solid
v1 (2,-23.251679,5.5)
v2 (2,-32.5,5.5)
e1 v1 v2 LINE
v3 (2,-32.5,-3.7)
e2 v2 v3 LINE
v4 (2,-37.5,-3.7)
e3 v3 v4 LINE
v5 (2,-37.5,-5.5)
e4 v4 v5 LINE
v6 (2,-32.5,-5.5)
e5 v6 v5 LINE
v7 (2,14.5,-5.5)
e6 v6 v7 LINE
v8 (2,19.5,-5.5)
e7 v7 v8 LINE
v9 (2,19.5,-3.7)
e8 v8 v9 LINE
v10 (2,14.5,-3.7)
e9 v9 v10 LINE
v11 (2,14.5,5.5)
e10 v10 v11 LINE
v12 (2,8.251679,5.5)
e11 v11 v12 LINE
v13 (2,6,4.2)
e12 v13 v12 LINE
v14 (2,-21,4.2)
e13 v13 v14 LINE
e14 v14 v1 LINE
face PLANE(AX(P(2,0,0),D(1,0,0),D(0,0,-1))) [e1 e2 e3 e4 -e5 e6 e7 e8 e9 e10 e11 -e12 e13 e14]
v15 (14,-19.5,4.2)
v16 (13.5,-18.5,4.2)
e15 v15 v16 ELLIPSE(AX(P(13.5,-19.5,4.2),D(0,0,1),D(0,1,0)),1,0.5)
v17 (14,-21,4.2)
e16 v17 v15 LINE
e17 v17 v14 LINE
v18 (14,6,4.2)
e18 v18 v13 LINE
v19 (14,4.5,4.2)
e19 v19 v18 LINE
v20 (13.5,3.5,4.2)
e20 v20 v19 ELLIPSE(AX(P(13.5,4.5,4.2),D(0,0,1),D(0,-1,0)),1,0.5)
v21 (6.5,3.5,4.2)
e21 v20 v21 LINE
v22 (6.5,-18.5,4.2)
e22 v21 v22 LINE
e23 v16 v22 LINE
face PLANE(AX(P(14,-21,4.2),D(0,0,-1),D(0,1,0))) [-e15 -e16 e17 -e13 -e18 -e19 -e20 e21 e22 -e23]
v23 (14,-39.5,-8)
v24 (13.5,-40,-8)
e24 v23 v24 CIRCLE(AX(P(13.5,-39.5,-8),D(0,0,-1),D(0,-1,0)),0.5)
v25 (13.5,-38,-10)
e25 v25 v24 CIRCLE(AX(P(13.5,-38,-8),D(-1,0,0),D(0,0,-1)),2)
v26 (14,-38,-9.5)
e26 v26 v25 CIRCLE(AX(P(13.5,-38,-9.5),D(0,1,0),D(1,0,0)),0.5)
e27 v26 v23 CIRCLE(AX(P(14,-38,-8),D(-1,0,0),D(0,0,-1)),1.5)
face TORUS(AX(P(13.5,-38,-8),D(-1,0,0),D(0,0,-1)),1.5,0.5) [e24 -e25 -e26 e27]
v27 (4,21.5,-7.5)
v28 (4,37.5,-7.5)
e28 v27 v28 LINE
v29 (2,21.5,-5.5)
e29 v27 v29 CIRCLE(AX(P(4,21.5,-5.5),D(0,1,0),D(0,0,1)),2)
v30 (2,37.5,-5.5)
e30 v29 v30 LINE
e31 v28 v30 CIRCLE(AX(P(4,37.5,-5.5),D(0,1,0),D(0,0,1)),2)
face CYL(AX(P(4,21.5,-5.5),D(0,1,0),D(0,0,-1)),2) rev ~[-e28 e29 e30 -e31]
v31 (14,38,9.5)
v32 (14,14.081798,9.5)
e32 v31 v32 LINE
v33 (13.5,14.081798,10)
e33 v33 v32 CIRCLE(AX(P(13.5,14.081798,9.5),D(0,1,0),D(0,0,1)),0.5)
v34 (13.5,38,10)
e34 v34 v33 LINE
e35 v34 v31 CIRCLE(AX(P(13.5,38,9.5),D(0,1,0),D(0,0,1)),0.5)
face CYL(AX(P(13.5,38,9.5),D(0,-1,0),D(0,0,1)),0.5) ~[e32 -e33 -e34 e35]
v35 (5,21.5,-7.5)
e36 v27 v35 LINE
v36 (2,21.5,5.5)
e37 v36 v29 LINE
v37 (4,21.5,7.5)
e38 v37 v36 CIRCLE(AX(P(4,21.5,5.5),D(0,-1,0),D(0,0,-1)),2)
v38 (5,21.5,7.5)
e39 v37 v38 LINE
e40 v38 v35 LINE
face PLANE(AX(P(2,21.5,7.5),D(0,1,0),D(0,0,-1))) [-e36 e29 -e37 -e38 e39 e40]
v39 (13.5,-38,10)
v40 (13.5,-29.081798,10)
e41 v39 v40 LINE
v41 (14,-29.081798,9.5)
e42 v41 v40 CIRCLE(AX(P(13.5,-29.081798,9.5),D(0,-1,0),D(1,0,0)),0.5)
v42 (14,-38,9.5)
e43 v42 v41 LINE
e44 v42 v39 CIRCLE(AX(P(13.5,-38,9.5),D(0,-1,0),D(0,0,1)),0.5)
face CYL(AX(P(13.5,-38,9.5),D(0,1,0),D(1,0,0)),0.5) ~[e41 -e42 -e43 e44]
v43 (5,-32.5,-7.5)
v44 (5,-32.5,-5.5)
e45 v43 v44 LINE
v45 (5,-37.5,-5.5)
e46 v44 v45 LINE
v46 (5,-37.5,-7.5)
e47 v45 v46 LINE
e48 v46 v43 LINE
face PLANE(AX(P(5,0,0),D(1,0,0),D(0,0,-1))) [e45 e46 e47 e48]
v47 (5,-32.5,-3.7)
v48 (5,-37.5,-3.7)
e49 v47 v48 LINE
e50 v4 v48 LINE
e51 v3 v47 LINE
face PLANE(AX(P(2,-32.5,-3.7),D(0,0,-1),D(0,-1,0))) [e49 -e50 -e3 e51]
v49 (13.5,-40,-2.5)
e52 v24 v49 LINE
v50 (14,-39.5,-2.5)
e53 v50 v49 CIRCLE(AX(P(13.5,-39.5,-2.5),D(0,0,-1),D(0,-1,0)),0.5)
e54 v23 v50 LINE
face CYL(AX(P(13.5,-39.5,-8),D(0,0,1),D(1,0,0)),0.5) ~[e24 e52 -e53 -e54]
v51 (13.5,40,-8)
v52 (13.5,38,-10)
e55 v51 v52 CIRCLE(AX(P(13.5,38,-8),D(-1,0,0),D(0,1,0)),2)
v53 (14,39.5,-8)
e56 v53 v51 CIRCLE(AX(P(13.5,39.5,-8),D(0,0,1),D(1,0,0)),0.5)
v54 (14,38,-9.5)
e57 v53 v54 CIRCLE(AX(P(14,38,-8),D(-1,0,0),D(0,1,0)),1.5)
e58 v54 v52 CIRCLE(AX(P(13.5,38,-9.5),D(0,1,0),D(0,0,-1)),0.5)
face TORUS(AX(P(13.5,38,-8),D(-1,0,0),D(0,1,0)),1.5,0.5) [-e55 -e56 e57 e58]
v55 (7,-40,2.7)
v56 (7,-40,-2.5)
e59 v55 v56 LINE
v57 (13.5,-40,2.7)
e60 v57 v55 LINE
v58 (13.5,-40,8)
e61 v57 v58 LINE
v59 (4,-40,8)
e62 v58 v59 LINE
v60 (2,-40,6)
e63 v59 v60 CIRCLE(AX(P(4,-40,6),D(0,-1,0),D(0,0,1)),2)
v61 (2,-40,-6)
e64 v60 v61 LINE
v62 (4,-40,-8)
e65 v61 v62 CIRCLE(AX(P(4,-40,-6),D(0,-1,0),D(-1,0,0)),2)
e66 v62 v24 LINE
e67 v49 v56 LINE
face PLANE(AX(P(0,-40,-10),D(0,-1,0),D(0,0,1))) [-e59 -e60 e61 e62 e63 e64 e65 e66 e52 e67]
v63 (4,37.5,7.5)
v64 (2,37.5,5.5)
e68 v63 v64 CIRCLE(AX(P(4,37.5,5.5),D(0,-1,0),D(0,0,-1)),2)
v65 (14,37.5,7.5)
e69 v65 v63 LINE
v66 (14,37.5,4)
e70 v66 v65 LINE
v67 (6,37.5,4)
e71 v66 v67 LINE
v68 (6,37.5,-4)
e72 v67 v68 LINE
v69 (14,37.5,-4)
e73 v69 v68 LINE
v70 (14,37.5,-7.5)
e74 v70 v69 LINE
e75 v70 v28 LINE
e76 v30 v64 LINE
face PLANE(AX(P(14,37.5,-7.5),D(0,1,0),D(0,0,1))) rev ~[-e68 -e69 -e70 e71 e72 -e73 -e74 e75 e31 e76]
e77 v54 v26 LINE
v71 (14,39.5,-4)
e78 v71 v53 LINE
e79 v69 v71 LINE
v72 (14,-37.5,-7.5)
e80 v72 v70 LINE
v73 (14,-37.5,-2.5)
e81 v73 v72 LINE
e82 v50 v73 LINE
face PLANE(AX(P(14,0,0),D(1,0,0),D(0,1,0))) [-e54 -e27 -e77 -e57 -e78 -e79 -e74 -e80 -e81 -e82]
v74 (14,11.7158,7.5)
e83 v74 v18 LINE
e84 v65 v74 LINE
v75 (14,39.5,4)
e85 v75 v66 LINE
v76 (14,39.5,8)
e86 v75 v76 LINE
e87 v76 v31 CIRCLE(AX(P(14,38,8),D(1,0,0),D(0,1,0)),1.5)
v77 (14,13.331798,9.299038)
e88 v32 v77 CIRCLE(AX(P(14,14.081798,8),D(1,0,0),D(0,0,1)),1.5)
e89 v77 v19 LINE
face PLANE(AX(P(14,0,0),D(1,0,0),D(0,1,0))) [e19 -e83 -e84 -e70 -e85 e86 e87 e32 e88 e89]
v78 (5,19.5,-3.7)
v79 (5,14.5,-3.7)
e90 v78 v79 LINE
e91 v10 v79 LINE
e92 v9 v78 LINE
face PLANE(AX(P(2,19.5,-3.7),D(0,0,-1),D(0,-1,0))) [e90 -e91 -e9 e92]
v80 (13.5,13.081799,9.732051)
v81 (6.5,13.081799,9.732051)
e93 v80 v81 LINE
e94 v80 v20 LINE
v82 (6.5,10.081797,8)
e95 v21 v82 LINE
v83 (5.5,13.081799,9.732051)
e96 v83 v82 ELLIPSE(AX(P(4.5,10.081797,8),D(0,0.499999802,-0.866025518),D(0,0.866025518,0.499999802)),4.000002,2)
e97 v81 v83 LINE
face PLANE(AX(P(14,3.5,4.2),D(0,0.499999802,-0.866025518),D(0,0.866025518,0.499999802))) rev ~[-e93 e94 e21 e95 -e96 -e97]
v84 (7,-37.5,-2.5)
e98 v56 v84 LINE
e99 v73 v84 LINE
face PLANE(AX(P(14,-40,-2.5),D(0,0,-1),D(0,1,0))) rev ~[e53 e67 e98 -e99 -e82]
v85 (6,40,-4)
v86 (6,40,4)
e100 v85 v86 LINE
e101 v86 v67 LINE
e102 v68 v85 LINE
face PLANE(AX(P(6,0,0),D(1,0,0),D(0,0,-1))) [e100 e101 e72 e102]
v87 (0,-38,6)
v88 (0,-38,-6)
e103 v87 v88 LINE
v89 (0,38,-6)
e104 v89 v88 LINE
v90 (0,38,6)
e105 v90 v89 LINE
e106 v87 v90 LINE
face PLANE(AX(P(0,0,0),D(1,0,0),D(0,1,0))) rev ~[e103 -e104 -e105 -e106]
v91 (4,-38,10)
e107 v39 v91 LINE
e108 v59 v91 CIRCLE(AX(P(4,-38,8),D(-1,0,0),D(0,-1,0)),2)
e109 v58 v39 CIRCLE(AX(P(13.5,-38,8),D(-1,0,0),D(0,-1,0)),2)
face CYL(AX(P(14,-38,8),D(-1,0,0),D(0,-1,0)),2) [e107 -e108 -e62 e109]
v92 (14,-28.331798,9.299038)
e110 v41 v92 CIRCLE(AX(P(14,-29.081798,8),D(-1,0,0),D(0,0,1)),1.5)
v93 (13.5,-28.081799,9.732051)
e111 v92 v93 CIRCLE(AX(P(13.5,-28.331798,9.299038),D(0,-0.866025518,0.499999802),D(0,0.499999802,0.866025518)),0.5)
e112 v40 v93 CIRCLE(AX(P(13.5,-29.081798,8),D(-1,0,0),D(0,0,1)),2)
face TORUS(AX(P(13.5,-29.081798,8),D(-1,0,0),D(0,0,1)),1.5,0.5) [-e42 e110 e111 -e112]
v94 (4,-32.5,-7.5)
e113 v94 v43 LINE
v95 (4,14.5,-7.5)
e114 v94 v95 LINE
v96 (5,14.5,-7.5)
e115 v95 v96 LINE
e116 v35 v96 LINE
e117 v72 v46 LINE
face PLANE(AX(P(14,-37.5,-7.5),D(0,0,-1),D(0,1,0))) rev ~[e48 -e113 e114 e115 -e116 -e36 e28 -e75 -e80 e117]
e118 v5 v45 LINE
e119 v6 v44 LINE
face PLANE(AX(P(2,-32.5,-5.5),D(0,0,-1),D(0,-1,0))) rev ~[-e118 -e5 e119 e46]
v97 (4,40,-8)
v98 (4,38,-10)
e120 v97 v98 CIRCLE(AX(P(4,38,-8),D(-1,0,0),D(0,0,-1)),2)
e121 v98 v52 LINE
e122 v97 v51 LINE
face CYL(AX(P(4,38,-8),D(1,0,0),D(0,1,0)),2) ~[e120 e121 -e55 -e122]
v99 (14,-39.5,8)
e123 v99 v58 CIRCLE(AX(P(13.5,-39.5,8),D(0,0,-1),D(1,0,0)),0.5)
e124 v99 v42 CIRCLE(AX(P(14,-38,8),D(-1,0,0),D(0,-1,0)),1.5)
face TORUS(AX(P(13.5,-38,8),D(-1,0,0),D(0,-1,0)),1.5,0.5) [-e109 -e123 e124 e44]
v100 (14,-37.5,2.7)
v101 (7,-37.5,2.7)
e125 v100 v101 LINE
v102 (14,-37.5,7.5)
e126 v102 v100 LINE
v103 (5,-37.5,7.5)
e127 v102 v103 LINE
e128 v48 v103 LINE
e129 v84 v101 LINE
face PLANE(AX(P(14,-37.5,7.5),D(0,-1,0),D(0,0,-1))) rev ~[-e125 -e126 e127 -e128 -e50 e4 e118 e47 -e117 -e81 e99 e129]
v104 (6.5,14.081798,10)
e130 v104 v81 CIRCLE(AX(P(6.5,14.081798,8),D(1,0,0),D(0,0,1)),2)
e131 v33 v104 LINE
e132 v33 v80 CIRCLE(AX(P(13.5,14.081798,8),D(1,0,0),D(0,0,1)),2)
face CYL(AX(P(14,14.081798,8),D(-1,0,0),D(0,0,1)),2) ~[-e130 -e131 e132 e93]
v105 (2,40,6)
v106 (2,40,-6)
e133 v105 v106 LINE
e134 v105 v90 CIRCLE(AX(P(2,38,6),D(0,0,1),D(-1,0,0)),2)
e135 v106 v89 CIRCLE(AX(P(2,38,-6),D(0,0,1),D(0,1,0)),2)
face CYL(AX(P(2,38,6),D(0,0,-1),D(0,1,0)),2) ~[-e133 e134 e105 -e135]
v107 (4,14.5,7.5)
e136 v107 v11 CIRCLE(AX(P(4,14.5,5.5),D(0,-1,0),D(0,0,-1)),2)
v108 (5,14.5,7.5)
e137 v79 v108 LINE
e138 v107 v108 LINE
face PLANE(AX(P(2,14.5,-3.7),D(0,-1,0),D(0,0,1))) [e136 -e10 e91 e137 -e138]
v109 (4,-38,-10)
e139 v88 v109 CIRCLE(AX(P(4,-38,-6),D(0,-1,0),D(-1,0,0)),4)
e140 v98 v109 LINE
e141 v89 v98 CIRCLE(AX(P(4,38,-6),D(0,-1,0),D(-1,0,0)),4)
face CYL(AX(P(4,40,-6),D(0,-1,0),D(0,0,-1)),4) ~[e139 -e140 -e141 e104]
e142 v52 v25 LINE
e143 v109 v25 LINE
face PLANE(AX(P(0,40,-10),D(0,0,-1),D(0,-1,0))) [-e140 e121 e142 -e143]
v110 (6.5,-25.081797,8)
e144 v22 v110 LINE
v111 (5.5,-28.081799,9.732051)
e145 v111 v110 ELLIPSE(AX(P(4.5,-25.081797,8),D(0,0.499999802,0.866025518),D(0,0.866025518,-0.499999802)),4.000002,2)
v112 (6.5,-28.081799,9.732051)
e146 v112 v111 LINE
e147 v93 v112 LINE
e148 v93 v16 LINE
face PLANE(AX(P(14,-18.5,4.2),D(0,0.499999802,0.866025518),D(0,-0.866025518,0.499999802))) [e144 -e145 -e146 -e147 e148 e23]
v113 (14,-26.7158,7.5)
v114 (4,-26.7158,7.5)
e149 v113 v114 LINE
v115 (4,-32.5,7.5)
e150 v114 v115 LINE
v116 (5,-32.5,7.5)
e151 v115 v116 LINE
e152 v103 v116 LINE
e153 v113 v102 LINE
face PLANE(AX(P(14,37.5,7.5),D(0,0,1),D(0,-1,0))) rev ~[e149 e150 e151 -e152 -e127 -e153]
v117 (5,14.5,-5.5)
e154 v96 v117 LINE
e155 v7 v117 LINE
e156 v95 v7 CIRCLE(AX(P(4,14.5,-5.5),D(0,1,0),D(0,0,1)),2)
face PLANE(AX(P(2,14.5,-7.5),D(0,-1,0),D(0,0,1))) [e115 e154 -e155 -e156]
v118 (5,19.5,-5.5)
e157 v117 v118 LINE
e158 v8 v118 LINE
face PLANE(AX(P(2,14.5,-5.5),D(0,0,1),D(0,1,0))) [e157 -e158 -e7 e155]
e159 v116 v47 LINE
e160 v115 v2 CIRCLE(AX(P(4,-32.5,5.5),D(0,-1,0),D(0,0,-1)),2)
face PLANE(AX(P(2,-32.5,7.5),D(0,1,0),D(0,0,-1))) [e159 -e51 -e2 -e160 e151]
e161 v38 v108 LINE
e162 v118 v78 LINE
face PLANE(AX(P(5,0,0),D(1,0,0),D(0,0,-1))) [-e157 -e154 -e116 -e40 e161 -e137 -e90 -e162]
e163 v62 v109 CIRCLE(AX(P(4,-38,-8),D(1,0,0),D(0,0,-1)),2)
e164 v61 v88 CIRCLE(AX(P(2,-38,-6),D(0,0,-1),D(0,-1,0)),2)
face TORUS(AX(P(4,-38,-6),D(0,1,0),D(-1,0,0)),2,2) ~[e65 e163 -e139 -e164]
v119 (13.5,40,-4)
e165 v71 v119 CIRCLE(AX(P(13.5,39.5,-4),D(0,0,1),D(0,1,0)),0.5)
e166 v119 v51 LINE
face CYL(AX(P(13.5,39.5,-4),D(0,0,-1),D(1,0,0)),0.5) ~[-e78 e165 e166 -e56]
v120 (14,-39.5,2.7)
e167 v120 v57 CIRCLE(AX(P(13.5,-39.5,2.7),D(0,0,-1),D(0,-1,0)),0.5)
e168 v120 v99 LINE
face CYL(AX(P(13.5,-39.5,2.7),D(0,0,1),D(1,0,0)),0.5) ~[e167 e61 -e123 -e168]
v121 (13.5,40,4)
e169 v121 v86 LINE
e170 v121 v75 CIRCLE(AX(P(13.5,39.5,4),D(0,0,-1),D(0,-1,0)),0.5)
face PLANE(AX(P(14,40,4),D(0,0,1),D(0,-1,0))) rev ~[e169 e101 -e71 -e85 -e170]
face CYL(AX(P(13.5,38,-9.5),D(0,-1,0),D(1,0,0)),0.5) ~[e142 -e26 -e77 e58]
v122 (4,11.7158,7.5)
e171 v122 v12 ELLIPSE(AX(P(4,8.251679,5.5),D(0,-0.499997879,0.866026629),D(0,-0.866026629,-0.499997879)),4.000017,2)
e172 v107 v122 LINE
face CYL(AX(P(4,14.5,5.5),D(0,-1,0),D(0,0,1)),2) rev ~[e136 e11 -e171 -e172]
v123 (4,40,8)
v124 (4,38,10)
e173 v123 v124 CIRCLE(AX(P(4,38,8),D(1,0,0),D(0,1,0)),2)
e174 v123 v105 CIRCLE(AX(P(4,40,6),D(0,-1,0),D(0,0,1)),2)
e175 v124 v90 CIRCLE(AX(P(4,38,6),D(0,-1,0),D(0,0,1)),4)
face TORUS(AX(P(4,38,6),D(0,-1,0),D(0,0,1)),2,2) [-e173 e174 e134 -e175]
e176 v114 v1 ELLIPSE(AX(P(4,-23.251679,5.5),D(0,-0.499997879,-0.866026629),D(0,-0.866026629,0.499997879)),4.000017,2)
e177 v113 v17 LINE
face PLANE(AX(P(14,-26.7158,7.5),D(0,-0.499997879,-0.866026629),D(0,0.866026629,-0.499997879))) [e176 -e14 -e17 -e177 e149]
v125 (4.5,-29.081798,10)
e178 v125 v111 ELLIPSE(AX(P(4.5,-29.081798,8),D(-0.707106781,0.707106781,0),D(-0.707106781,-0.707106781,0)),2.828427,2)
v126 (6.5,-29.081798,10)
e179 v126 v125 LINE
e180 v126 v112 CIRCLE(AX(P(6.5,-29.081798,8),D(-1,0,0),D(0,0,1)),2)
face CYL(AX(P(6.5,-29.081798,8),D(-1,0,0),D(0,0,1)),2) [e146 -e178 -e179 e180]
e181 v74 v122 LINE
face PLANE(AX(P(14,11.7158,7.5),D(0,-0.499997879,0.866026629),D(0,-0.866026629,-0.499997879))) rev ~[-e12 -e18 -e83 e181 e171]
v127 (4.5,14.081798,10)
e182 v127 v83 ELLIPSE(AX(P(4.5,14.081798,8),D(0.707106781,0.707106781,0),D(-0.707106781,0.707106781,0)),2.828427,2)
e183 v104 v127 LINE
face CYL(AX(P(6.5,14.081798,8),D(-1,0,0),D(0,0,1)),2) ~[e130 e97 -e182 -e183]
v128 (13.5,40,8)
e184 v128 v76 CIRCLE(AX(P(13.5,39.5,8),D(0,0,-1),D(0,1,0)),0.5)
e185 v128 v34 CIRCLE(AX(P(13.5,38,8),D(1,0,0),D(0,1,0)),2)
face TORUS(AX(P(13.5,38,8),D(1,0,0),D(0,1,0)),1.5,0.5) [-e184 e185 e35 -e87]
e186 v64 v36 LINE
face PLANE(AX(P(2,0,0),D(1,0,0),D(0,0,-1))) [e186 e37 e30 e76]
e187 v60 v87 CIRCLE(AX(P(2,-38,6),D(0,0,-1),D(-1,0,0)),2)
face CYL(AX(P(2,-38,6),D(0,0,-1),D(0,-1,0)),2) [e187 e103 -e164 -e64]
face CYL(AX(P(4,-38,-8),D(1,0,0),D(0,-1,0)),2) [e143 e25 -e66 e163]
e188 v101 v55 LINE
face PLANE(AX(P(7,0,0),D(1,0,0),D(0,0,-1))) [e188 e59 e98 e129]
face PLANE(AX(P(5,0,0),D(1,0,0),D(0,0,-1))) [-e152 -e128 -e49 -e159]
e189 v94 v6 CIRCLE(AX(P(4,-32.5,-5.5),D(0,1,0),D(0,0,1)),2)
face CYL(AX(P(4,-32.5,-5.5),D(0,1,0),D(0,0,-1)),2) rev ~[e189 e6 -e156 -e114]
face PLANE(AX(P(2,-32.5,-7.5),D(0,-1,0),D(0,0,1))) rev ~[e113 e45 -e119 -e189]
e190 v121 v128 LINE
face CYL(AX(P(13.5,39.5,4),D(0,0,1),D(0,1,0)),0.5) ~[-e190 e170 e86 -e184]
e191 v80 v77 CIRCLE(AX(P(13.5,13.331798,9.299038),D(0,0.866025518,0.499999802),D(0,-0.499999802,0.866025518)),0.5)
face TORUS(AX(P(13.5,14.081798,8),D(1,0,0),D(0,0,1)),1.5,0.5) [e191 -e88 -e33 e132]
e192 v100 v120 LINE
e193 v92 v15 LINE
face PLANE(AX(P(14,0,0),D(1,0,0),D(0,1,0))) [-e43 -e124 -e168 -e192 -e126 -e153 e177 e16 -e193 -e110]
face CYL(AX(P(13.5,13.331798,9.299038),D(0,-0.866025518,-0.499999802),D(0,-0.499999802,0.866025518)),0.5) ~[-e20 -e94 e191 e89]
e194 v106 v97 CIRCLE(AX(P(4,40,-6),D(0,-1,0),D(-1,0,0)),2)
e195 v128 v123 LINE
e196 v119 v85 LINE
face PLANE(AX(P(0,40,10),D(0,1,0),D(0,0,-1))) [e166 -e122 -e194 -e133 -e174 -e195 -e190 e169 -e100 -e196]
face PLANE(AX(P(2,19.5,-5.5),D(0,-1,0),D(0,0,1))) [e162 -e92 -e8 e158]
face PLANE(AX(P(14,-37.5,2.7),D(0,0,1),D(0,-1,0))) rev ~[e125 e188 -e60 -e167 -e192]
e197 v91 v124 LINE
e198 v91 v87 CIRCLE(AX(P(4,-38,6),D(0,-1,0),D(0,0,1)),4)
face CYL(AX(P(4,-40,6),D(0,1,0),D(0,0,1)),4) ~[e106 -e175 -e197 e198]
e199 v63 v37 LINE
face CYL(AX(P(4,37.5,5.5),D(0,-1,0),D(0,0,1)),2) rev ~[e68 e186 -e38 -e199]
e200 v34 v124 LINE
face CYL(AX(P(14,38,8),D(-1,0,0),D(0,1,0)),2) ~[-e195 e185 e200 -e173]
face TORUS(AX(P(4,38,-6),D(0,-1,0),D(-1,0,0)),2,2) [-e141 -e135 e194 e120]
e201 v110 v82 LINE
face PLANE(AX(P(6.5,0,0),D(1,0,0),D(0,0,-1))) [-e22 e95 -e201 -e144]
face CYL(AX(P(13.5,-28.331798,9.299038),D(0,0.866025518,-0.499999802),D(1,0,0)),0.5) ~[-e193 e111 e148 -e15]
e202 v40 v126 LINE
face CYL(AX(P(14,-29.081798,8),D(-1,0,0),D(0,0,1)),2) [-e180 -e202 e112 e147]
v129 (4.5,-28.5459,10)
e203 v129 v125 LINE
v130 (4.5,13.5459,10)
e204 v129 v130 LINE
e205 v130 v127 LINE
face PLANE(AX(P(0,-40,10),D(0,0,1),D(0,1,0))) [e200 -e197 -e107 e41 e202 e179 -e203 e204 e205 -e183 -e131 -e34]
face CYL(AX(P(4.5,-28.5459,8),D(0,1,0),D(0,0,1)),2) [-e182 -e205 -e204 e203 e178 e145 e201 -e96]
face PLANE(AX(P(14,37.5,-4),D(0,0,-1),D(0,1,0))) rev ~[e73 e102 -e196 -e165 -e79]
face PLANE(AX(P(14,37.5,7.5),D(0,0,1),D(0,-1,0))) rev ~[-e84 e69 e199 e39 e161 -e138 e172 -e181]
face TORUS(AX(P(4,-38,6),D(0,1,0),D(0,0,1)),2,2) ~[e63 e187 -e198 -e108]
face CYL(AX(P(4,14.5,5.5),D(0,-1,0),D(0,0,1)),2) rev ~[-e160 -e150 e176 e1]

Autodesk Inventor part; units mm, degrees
ref_plane "YZ Plane" through (0, 0, 0) normal (1, 0, 0) x (0, 1, 0)
ref_plane "XZ Plane" through (0, 0, 0) normal (0, 1, 0) x (-1, 0, 0)
ref_plane "XY Plane" through (0, 0, 0) normal (0, 0, 1) x (1, 0, 0)
sketch "Skizze1" plane through (0, 0, 0) normal (1, 0, 0) x (0, 1, 0)
  line L0 (40, -10) -> (-40, -10)
  line L1 (-40, -10) -> (-40, 10)
  line L2 (-40, 10) -> (40, 10)
  line L3 (40, 10) -> (40, -10)
  line L4 (40, -10) -> (-40, 10) construction
  line L5 (-40, -10) -> (40, 10) construction
  point P0 (0, 0)
  dimension "d0" = 80
  dimension "d1" = 20
extrude "Extrusion1" add sketch "Skizze1" along normal blind 14
sketch "Skizze2" plane through (14, 0, 0) normal (1, 0, 0) x (0, 0, -1)
  line L0 (7.5, 37.5) -> (-7.5, 37.5)
  line L1 (-7.5, 37.5) -> (-7.5, -37.5)
  line L2 (-7.5, -37.5) -> (7.5, -37.5)
  line L3 (7.5, -37.5) -> (7.5, 37.5)
  line L4 (7.5, 37.5) -> (-7.5, -37.5) construction
  line L5 (-7.5, 37.5) -> (7.5, -37.5) construction
  line L6 (10, 40) -> (-10, 40) projected
  point P0 (0, 0)
  dimension "d4" = 15
  dimension "d5" = 2.5
extrude "Extrusion2" cut sketch "Skizze2" against normal blind 12
sketch "Skizze3" plane through (14, 0, 0) normal (1, 0, 0) x (0, 0, -1)
  line L0 (-2.7, -40) -> (2.5, -40)
  line L1 (2.5, -40) -> (2.5, -37.5)
  line L2 (2.5, -37.5) -> (-2.7, -37.5)
  line L3 (-2.7, -37.5) -> (-2.7, -40)
  line L4 (7.5, -37.5) -> (-7.5, -37.5) projected
  line L5 (-10, -40) -> (10, -40) projected
  line L6 (7.5, 37.5) -> (7.5, -37.5) projected
  point P0 (0, 0)
  dimension "d8" = 5.2
  dimension "d9" = 5
extrude "Extrusion3" cut sketch "Skizze3" against normal blind 7
sketch "Skizze4" plane through (2, 0, 0) normal (1, 0, 0) x (0, 0, -1)
  line L0 (5.5, -37.5) -> (7.5, -37.5)
  line L1 (7.5, -37.5) -> (7.5, -32.5)
  line L2 (7.5, -32.5) -> (5.5, -32.5)
  line L3 (5.5, -32.5) -> (5.5, -37.5)
  line L4 (7.5, -37.5) -> (-7.5, -37.5) projected
  line L5 (7.5, 37.5) -> (7.5, -37.5) projected
  line L6 (3.7, -37.5) -> (-7.5, -37.5)
  line L7 (-7.5, -37.5) -> (-7.5, -32.5)
  line L8 (-7.5, -32.5) -> (3.7, -32.5)
  line L9 (3.7, -32.5) -> (3.7, -37.5)
  line L10 (-7.5, -37.5) -> (-7.5, 37.5) projected
  line L11 (7.5, 14.5) -> (5.5, 14.5)
  line L12 (5.5, 14.5) -> (5.5, 19.5)
  line L13 (5.5, 19.5) -> (7.5, 19.5)
  line L14 (7.5, 19.5) -> (7.5, 14.5)
  line L15 (3.7, 14.5) -> (-7.5, 14.5)
  line L16 (-7.5, 14.5) -> (-7.5, 19.5)
  line L17 (-7.5, 19.5) -> (3.7, 19.5)
  line L18 (3.7, 19.5) -> (3.7, 14.5)
  line L19 (7.5, 19.5) -> (-7.5, 19.5)
  line L20 (-7.5, 19.5) -> (-7.5, 21.5)
  line L21 (-7.5, 21.5) -> (7.5, 21.5)
  line L22 (7.5, 21.5) -> (7.5, 19.5)
  point P0 (0, 0)
  dimension "d12" = 5
  dimension "d13" = 2
  dimension "d14" = 1.8
  dimension "d15" = 57
  dimension "d24" = 2
extrude "Extrusion4" add sketch "Skizze4" along normal blind 3 contours L3 L2 L1 L0 | L4 L7 L8 L9 | L11 L12 L13 L5 | L13 L19 L17 L10 L21 L5 | L10 L17 L18 L15
fillet "Rundung1" radius 2 4 edges at (2, -9, 7.5) (2, -9, -7.5) (2, 29.5, 7.5) (2, 29.5, -7.5)
fillet "Rundung2" radius 4 2 edges at (0, 0, 10) (0, 0, -10)
sketch "Skizze5" plane through (14, 0, 0) normal (1, 0, 0) x (0, 0, -1)
  line L0 (-4, 37.5) -> (4, 37.5)
  line L1 (4, 37.5) -> (4, 40)
  line L2 (4, 40) -> (-4, 40)
  line L3 (-4, 40) -> (-4, 37.5)
  line L4 (-7.5, 37.5) -> (7.5, 37.5) projected
  line L5 (10, 40) -> (-10, 40) projected
  line L6 (-6, 40) -> (6, 40) projected
  point P0 (0, 0)
  point P1 (0, 40)
  point P2 (0, 40)
  dimension "d20" = 8
extrude "Extrusion5" cut sketch "Skizze5" against normal blind 8
fillet "Rundung3" radius 2 10 edges at (0, 40, 0) (1.1716, 40, -8.8284) (9, 40, -10) (1.1716, 40, 8.8284) (9, 40, 10) (1.1716, -40, 8.8284) (9, -40, 10) (1.1716, -40, -8.8284) (9, -40, -10) (0, -40, 0)
sketch "Skizze6" plane through (14, 0, 0) normal (1, 0, 0) x (0, 0, -1)
  line L0 (-7.5, -37.5) -> (-7.5, 37.5) projected
  line L1 (-7.5, -26.7158) -> (-7.5, 11.7158)
  line L2 (-7.5, 11.7158) -> (-4.2, 6)
  line L3 (-7.5, -26.7158) -> (-4.2, -21)
  line L4 (-4.2, -21) -> (-4.2, 6)
  line L5 (-7.5, -7.5) -> (-4.2, -7.5) construction
  line L6 (-2.7, -40) -> (-2.7, -37.5) construction
  line L7 (-8, -40) -> (-2.7, -40) construction
  point P0 (0, 0)
  dimension "d25" = 27
  dimension "d26" = 30
  dimension "d27" = 1.5
  dimension "d28" = 19
extrude "Extrusion6" add sketch "Skizze6" against normal up to next
sketch "Skizze7" plane through (14, 0, 0) normal (1, 0, 0) x (0, 0, -1)
  line L0 (-4.2, 6) -> (-4.2, -21) projected
  line L1 (-4.2, -18.5) -> (-10, -28.5459)
  line L2 (-10, -38) -> (-10, 38) projected
  line L3 (-4.2, 3.5) -> (-10, 13.5459)
  line L4 (-10, 13.5459) -> (-10, -28.5459)
  line L5 (-4.2, 3.5) -> (-4.2, -18.5)
  line L6 (-10, -7.5) -> (-4.2, -7.5) construction
  line L7 (-4.2, -21) -> (-7.5, -26.7158) projected
  point P0 (0, 0)
  dimension "d31" = 22
extrude "Extrusion7" cut sketch "Skizze7" against normal blind 7.5
fillet "Rundung4" radius 2 1 edges at (6.5, -7.5, 10)
fillet "Rundung6" radius 2 4 edges at (5.5, -28.5459, 10) (10.25, -28.5459, 10) (5.5, 13.5459, 10) (10.25, 13.5459, 10)
fillet "Rundung5" radius 0.5 11 edges at (14, -39.4142, 9.4142) (14, -40, 5.35) (14, -33.5409, 10) (14, 39.4142, 9.4142) (14, 40, 6) (14, 26.0409, 10) (14, 39.4142, -9.4142) (14, 40, -6) (14, -39.4142, -9.4142) (14, -40, -5.25) (14, 0, -10)
equation "\"G_L\" = 0"
equation "\"G_H\" = 0"
equation "\"G_B\" = 0"
properties part number "5V_Supply" material "GEDA Stahl"
